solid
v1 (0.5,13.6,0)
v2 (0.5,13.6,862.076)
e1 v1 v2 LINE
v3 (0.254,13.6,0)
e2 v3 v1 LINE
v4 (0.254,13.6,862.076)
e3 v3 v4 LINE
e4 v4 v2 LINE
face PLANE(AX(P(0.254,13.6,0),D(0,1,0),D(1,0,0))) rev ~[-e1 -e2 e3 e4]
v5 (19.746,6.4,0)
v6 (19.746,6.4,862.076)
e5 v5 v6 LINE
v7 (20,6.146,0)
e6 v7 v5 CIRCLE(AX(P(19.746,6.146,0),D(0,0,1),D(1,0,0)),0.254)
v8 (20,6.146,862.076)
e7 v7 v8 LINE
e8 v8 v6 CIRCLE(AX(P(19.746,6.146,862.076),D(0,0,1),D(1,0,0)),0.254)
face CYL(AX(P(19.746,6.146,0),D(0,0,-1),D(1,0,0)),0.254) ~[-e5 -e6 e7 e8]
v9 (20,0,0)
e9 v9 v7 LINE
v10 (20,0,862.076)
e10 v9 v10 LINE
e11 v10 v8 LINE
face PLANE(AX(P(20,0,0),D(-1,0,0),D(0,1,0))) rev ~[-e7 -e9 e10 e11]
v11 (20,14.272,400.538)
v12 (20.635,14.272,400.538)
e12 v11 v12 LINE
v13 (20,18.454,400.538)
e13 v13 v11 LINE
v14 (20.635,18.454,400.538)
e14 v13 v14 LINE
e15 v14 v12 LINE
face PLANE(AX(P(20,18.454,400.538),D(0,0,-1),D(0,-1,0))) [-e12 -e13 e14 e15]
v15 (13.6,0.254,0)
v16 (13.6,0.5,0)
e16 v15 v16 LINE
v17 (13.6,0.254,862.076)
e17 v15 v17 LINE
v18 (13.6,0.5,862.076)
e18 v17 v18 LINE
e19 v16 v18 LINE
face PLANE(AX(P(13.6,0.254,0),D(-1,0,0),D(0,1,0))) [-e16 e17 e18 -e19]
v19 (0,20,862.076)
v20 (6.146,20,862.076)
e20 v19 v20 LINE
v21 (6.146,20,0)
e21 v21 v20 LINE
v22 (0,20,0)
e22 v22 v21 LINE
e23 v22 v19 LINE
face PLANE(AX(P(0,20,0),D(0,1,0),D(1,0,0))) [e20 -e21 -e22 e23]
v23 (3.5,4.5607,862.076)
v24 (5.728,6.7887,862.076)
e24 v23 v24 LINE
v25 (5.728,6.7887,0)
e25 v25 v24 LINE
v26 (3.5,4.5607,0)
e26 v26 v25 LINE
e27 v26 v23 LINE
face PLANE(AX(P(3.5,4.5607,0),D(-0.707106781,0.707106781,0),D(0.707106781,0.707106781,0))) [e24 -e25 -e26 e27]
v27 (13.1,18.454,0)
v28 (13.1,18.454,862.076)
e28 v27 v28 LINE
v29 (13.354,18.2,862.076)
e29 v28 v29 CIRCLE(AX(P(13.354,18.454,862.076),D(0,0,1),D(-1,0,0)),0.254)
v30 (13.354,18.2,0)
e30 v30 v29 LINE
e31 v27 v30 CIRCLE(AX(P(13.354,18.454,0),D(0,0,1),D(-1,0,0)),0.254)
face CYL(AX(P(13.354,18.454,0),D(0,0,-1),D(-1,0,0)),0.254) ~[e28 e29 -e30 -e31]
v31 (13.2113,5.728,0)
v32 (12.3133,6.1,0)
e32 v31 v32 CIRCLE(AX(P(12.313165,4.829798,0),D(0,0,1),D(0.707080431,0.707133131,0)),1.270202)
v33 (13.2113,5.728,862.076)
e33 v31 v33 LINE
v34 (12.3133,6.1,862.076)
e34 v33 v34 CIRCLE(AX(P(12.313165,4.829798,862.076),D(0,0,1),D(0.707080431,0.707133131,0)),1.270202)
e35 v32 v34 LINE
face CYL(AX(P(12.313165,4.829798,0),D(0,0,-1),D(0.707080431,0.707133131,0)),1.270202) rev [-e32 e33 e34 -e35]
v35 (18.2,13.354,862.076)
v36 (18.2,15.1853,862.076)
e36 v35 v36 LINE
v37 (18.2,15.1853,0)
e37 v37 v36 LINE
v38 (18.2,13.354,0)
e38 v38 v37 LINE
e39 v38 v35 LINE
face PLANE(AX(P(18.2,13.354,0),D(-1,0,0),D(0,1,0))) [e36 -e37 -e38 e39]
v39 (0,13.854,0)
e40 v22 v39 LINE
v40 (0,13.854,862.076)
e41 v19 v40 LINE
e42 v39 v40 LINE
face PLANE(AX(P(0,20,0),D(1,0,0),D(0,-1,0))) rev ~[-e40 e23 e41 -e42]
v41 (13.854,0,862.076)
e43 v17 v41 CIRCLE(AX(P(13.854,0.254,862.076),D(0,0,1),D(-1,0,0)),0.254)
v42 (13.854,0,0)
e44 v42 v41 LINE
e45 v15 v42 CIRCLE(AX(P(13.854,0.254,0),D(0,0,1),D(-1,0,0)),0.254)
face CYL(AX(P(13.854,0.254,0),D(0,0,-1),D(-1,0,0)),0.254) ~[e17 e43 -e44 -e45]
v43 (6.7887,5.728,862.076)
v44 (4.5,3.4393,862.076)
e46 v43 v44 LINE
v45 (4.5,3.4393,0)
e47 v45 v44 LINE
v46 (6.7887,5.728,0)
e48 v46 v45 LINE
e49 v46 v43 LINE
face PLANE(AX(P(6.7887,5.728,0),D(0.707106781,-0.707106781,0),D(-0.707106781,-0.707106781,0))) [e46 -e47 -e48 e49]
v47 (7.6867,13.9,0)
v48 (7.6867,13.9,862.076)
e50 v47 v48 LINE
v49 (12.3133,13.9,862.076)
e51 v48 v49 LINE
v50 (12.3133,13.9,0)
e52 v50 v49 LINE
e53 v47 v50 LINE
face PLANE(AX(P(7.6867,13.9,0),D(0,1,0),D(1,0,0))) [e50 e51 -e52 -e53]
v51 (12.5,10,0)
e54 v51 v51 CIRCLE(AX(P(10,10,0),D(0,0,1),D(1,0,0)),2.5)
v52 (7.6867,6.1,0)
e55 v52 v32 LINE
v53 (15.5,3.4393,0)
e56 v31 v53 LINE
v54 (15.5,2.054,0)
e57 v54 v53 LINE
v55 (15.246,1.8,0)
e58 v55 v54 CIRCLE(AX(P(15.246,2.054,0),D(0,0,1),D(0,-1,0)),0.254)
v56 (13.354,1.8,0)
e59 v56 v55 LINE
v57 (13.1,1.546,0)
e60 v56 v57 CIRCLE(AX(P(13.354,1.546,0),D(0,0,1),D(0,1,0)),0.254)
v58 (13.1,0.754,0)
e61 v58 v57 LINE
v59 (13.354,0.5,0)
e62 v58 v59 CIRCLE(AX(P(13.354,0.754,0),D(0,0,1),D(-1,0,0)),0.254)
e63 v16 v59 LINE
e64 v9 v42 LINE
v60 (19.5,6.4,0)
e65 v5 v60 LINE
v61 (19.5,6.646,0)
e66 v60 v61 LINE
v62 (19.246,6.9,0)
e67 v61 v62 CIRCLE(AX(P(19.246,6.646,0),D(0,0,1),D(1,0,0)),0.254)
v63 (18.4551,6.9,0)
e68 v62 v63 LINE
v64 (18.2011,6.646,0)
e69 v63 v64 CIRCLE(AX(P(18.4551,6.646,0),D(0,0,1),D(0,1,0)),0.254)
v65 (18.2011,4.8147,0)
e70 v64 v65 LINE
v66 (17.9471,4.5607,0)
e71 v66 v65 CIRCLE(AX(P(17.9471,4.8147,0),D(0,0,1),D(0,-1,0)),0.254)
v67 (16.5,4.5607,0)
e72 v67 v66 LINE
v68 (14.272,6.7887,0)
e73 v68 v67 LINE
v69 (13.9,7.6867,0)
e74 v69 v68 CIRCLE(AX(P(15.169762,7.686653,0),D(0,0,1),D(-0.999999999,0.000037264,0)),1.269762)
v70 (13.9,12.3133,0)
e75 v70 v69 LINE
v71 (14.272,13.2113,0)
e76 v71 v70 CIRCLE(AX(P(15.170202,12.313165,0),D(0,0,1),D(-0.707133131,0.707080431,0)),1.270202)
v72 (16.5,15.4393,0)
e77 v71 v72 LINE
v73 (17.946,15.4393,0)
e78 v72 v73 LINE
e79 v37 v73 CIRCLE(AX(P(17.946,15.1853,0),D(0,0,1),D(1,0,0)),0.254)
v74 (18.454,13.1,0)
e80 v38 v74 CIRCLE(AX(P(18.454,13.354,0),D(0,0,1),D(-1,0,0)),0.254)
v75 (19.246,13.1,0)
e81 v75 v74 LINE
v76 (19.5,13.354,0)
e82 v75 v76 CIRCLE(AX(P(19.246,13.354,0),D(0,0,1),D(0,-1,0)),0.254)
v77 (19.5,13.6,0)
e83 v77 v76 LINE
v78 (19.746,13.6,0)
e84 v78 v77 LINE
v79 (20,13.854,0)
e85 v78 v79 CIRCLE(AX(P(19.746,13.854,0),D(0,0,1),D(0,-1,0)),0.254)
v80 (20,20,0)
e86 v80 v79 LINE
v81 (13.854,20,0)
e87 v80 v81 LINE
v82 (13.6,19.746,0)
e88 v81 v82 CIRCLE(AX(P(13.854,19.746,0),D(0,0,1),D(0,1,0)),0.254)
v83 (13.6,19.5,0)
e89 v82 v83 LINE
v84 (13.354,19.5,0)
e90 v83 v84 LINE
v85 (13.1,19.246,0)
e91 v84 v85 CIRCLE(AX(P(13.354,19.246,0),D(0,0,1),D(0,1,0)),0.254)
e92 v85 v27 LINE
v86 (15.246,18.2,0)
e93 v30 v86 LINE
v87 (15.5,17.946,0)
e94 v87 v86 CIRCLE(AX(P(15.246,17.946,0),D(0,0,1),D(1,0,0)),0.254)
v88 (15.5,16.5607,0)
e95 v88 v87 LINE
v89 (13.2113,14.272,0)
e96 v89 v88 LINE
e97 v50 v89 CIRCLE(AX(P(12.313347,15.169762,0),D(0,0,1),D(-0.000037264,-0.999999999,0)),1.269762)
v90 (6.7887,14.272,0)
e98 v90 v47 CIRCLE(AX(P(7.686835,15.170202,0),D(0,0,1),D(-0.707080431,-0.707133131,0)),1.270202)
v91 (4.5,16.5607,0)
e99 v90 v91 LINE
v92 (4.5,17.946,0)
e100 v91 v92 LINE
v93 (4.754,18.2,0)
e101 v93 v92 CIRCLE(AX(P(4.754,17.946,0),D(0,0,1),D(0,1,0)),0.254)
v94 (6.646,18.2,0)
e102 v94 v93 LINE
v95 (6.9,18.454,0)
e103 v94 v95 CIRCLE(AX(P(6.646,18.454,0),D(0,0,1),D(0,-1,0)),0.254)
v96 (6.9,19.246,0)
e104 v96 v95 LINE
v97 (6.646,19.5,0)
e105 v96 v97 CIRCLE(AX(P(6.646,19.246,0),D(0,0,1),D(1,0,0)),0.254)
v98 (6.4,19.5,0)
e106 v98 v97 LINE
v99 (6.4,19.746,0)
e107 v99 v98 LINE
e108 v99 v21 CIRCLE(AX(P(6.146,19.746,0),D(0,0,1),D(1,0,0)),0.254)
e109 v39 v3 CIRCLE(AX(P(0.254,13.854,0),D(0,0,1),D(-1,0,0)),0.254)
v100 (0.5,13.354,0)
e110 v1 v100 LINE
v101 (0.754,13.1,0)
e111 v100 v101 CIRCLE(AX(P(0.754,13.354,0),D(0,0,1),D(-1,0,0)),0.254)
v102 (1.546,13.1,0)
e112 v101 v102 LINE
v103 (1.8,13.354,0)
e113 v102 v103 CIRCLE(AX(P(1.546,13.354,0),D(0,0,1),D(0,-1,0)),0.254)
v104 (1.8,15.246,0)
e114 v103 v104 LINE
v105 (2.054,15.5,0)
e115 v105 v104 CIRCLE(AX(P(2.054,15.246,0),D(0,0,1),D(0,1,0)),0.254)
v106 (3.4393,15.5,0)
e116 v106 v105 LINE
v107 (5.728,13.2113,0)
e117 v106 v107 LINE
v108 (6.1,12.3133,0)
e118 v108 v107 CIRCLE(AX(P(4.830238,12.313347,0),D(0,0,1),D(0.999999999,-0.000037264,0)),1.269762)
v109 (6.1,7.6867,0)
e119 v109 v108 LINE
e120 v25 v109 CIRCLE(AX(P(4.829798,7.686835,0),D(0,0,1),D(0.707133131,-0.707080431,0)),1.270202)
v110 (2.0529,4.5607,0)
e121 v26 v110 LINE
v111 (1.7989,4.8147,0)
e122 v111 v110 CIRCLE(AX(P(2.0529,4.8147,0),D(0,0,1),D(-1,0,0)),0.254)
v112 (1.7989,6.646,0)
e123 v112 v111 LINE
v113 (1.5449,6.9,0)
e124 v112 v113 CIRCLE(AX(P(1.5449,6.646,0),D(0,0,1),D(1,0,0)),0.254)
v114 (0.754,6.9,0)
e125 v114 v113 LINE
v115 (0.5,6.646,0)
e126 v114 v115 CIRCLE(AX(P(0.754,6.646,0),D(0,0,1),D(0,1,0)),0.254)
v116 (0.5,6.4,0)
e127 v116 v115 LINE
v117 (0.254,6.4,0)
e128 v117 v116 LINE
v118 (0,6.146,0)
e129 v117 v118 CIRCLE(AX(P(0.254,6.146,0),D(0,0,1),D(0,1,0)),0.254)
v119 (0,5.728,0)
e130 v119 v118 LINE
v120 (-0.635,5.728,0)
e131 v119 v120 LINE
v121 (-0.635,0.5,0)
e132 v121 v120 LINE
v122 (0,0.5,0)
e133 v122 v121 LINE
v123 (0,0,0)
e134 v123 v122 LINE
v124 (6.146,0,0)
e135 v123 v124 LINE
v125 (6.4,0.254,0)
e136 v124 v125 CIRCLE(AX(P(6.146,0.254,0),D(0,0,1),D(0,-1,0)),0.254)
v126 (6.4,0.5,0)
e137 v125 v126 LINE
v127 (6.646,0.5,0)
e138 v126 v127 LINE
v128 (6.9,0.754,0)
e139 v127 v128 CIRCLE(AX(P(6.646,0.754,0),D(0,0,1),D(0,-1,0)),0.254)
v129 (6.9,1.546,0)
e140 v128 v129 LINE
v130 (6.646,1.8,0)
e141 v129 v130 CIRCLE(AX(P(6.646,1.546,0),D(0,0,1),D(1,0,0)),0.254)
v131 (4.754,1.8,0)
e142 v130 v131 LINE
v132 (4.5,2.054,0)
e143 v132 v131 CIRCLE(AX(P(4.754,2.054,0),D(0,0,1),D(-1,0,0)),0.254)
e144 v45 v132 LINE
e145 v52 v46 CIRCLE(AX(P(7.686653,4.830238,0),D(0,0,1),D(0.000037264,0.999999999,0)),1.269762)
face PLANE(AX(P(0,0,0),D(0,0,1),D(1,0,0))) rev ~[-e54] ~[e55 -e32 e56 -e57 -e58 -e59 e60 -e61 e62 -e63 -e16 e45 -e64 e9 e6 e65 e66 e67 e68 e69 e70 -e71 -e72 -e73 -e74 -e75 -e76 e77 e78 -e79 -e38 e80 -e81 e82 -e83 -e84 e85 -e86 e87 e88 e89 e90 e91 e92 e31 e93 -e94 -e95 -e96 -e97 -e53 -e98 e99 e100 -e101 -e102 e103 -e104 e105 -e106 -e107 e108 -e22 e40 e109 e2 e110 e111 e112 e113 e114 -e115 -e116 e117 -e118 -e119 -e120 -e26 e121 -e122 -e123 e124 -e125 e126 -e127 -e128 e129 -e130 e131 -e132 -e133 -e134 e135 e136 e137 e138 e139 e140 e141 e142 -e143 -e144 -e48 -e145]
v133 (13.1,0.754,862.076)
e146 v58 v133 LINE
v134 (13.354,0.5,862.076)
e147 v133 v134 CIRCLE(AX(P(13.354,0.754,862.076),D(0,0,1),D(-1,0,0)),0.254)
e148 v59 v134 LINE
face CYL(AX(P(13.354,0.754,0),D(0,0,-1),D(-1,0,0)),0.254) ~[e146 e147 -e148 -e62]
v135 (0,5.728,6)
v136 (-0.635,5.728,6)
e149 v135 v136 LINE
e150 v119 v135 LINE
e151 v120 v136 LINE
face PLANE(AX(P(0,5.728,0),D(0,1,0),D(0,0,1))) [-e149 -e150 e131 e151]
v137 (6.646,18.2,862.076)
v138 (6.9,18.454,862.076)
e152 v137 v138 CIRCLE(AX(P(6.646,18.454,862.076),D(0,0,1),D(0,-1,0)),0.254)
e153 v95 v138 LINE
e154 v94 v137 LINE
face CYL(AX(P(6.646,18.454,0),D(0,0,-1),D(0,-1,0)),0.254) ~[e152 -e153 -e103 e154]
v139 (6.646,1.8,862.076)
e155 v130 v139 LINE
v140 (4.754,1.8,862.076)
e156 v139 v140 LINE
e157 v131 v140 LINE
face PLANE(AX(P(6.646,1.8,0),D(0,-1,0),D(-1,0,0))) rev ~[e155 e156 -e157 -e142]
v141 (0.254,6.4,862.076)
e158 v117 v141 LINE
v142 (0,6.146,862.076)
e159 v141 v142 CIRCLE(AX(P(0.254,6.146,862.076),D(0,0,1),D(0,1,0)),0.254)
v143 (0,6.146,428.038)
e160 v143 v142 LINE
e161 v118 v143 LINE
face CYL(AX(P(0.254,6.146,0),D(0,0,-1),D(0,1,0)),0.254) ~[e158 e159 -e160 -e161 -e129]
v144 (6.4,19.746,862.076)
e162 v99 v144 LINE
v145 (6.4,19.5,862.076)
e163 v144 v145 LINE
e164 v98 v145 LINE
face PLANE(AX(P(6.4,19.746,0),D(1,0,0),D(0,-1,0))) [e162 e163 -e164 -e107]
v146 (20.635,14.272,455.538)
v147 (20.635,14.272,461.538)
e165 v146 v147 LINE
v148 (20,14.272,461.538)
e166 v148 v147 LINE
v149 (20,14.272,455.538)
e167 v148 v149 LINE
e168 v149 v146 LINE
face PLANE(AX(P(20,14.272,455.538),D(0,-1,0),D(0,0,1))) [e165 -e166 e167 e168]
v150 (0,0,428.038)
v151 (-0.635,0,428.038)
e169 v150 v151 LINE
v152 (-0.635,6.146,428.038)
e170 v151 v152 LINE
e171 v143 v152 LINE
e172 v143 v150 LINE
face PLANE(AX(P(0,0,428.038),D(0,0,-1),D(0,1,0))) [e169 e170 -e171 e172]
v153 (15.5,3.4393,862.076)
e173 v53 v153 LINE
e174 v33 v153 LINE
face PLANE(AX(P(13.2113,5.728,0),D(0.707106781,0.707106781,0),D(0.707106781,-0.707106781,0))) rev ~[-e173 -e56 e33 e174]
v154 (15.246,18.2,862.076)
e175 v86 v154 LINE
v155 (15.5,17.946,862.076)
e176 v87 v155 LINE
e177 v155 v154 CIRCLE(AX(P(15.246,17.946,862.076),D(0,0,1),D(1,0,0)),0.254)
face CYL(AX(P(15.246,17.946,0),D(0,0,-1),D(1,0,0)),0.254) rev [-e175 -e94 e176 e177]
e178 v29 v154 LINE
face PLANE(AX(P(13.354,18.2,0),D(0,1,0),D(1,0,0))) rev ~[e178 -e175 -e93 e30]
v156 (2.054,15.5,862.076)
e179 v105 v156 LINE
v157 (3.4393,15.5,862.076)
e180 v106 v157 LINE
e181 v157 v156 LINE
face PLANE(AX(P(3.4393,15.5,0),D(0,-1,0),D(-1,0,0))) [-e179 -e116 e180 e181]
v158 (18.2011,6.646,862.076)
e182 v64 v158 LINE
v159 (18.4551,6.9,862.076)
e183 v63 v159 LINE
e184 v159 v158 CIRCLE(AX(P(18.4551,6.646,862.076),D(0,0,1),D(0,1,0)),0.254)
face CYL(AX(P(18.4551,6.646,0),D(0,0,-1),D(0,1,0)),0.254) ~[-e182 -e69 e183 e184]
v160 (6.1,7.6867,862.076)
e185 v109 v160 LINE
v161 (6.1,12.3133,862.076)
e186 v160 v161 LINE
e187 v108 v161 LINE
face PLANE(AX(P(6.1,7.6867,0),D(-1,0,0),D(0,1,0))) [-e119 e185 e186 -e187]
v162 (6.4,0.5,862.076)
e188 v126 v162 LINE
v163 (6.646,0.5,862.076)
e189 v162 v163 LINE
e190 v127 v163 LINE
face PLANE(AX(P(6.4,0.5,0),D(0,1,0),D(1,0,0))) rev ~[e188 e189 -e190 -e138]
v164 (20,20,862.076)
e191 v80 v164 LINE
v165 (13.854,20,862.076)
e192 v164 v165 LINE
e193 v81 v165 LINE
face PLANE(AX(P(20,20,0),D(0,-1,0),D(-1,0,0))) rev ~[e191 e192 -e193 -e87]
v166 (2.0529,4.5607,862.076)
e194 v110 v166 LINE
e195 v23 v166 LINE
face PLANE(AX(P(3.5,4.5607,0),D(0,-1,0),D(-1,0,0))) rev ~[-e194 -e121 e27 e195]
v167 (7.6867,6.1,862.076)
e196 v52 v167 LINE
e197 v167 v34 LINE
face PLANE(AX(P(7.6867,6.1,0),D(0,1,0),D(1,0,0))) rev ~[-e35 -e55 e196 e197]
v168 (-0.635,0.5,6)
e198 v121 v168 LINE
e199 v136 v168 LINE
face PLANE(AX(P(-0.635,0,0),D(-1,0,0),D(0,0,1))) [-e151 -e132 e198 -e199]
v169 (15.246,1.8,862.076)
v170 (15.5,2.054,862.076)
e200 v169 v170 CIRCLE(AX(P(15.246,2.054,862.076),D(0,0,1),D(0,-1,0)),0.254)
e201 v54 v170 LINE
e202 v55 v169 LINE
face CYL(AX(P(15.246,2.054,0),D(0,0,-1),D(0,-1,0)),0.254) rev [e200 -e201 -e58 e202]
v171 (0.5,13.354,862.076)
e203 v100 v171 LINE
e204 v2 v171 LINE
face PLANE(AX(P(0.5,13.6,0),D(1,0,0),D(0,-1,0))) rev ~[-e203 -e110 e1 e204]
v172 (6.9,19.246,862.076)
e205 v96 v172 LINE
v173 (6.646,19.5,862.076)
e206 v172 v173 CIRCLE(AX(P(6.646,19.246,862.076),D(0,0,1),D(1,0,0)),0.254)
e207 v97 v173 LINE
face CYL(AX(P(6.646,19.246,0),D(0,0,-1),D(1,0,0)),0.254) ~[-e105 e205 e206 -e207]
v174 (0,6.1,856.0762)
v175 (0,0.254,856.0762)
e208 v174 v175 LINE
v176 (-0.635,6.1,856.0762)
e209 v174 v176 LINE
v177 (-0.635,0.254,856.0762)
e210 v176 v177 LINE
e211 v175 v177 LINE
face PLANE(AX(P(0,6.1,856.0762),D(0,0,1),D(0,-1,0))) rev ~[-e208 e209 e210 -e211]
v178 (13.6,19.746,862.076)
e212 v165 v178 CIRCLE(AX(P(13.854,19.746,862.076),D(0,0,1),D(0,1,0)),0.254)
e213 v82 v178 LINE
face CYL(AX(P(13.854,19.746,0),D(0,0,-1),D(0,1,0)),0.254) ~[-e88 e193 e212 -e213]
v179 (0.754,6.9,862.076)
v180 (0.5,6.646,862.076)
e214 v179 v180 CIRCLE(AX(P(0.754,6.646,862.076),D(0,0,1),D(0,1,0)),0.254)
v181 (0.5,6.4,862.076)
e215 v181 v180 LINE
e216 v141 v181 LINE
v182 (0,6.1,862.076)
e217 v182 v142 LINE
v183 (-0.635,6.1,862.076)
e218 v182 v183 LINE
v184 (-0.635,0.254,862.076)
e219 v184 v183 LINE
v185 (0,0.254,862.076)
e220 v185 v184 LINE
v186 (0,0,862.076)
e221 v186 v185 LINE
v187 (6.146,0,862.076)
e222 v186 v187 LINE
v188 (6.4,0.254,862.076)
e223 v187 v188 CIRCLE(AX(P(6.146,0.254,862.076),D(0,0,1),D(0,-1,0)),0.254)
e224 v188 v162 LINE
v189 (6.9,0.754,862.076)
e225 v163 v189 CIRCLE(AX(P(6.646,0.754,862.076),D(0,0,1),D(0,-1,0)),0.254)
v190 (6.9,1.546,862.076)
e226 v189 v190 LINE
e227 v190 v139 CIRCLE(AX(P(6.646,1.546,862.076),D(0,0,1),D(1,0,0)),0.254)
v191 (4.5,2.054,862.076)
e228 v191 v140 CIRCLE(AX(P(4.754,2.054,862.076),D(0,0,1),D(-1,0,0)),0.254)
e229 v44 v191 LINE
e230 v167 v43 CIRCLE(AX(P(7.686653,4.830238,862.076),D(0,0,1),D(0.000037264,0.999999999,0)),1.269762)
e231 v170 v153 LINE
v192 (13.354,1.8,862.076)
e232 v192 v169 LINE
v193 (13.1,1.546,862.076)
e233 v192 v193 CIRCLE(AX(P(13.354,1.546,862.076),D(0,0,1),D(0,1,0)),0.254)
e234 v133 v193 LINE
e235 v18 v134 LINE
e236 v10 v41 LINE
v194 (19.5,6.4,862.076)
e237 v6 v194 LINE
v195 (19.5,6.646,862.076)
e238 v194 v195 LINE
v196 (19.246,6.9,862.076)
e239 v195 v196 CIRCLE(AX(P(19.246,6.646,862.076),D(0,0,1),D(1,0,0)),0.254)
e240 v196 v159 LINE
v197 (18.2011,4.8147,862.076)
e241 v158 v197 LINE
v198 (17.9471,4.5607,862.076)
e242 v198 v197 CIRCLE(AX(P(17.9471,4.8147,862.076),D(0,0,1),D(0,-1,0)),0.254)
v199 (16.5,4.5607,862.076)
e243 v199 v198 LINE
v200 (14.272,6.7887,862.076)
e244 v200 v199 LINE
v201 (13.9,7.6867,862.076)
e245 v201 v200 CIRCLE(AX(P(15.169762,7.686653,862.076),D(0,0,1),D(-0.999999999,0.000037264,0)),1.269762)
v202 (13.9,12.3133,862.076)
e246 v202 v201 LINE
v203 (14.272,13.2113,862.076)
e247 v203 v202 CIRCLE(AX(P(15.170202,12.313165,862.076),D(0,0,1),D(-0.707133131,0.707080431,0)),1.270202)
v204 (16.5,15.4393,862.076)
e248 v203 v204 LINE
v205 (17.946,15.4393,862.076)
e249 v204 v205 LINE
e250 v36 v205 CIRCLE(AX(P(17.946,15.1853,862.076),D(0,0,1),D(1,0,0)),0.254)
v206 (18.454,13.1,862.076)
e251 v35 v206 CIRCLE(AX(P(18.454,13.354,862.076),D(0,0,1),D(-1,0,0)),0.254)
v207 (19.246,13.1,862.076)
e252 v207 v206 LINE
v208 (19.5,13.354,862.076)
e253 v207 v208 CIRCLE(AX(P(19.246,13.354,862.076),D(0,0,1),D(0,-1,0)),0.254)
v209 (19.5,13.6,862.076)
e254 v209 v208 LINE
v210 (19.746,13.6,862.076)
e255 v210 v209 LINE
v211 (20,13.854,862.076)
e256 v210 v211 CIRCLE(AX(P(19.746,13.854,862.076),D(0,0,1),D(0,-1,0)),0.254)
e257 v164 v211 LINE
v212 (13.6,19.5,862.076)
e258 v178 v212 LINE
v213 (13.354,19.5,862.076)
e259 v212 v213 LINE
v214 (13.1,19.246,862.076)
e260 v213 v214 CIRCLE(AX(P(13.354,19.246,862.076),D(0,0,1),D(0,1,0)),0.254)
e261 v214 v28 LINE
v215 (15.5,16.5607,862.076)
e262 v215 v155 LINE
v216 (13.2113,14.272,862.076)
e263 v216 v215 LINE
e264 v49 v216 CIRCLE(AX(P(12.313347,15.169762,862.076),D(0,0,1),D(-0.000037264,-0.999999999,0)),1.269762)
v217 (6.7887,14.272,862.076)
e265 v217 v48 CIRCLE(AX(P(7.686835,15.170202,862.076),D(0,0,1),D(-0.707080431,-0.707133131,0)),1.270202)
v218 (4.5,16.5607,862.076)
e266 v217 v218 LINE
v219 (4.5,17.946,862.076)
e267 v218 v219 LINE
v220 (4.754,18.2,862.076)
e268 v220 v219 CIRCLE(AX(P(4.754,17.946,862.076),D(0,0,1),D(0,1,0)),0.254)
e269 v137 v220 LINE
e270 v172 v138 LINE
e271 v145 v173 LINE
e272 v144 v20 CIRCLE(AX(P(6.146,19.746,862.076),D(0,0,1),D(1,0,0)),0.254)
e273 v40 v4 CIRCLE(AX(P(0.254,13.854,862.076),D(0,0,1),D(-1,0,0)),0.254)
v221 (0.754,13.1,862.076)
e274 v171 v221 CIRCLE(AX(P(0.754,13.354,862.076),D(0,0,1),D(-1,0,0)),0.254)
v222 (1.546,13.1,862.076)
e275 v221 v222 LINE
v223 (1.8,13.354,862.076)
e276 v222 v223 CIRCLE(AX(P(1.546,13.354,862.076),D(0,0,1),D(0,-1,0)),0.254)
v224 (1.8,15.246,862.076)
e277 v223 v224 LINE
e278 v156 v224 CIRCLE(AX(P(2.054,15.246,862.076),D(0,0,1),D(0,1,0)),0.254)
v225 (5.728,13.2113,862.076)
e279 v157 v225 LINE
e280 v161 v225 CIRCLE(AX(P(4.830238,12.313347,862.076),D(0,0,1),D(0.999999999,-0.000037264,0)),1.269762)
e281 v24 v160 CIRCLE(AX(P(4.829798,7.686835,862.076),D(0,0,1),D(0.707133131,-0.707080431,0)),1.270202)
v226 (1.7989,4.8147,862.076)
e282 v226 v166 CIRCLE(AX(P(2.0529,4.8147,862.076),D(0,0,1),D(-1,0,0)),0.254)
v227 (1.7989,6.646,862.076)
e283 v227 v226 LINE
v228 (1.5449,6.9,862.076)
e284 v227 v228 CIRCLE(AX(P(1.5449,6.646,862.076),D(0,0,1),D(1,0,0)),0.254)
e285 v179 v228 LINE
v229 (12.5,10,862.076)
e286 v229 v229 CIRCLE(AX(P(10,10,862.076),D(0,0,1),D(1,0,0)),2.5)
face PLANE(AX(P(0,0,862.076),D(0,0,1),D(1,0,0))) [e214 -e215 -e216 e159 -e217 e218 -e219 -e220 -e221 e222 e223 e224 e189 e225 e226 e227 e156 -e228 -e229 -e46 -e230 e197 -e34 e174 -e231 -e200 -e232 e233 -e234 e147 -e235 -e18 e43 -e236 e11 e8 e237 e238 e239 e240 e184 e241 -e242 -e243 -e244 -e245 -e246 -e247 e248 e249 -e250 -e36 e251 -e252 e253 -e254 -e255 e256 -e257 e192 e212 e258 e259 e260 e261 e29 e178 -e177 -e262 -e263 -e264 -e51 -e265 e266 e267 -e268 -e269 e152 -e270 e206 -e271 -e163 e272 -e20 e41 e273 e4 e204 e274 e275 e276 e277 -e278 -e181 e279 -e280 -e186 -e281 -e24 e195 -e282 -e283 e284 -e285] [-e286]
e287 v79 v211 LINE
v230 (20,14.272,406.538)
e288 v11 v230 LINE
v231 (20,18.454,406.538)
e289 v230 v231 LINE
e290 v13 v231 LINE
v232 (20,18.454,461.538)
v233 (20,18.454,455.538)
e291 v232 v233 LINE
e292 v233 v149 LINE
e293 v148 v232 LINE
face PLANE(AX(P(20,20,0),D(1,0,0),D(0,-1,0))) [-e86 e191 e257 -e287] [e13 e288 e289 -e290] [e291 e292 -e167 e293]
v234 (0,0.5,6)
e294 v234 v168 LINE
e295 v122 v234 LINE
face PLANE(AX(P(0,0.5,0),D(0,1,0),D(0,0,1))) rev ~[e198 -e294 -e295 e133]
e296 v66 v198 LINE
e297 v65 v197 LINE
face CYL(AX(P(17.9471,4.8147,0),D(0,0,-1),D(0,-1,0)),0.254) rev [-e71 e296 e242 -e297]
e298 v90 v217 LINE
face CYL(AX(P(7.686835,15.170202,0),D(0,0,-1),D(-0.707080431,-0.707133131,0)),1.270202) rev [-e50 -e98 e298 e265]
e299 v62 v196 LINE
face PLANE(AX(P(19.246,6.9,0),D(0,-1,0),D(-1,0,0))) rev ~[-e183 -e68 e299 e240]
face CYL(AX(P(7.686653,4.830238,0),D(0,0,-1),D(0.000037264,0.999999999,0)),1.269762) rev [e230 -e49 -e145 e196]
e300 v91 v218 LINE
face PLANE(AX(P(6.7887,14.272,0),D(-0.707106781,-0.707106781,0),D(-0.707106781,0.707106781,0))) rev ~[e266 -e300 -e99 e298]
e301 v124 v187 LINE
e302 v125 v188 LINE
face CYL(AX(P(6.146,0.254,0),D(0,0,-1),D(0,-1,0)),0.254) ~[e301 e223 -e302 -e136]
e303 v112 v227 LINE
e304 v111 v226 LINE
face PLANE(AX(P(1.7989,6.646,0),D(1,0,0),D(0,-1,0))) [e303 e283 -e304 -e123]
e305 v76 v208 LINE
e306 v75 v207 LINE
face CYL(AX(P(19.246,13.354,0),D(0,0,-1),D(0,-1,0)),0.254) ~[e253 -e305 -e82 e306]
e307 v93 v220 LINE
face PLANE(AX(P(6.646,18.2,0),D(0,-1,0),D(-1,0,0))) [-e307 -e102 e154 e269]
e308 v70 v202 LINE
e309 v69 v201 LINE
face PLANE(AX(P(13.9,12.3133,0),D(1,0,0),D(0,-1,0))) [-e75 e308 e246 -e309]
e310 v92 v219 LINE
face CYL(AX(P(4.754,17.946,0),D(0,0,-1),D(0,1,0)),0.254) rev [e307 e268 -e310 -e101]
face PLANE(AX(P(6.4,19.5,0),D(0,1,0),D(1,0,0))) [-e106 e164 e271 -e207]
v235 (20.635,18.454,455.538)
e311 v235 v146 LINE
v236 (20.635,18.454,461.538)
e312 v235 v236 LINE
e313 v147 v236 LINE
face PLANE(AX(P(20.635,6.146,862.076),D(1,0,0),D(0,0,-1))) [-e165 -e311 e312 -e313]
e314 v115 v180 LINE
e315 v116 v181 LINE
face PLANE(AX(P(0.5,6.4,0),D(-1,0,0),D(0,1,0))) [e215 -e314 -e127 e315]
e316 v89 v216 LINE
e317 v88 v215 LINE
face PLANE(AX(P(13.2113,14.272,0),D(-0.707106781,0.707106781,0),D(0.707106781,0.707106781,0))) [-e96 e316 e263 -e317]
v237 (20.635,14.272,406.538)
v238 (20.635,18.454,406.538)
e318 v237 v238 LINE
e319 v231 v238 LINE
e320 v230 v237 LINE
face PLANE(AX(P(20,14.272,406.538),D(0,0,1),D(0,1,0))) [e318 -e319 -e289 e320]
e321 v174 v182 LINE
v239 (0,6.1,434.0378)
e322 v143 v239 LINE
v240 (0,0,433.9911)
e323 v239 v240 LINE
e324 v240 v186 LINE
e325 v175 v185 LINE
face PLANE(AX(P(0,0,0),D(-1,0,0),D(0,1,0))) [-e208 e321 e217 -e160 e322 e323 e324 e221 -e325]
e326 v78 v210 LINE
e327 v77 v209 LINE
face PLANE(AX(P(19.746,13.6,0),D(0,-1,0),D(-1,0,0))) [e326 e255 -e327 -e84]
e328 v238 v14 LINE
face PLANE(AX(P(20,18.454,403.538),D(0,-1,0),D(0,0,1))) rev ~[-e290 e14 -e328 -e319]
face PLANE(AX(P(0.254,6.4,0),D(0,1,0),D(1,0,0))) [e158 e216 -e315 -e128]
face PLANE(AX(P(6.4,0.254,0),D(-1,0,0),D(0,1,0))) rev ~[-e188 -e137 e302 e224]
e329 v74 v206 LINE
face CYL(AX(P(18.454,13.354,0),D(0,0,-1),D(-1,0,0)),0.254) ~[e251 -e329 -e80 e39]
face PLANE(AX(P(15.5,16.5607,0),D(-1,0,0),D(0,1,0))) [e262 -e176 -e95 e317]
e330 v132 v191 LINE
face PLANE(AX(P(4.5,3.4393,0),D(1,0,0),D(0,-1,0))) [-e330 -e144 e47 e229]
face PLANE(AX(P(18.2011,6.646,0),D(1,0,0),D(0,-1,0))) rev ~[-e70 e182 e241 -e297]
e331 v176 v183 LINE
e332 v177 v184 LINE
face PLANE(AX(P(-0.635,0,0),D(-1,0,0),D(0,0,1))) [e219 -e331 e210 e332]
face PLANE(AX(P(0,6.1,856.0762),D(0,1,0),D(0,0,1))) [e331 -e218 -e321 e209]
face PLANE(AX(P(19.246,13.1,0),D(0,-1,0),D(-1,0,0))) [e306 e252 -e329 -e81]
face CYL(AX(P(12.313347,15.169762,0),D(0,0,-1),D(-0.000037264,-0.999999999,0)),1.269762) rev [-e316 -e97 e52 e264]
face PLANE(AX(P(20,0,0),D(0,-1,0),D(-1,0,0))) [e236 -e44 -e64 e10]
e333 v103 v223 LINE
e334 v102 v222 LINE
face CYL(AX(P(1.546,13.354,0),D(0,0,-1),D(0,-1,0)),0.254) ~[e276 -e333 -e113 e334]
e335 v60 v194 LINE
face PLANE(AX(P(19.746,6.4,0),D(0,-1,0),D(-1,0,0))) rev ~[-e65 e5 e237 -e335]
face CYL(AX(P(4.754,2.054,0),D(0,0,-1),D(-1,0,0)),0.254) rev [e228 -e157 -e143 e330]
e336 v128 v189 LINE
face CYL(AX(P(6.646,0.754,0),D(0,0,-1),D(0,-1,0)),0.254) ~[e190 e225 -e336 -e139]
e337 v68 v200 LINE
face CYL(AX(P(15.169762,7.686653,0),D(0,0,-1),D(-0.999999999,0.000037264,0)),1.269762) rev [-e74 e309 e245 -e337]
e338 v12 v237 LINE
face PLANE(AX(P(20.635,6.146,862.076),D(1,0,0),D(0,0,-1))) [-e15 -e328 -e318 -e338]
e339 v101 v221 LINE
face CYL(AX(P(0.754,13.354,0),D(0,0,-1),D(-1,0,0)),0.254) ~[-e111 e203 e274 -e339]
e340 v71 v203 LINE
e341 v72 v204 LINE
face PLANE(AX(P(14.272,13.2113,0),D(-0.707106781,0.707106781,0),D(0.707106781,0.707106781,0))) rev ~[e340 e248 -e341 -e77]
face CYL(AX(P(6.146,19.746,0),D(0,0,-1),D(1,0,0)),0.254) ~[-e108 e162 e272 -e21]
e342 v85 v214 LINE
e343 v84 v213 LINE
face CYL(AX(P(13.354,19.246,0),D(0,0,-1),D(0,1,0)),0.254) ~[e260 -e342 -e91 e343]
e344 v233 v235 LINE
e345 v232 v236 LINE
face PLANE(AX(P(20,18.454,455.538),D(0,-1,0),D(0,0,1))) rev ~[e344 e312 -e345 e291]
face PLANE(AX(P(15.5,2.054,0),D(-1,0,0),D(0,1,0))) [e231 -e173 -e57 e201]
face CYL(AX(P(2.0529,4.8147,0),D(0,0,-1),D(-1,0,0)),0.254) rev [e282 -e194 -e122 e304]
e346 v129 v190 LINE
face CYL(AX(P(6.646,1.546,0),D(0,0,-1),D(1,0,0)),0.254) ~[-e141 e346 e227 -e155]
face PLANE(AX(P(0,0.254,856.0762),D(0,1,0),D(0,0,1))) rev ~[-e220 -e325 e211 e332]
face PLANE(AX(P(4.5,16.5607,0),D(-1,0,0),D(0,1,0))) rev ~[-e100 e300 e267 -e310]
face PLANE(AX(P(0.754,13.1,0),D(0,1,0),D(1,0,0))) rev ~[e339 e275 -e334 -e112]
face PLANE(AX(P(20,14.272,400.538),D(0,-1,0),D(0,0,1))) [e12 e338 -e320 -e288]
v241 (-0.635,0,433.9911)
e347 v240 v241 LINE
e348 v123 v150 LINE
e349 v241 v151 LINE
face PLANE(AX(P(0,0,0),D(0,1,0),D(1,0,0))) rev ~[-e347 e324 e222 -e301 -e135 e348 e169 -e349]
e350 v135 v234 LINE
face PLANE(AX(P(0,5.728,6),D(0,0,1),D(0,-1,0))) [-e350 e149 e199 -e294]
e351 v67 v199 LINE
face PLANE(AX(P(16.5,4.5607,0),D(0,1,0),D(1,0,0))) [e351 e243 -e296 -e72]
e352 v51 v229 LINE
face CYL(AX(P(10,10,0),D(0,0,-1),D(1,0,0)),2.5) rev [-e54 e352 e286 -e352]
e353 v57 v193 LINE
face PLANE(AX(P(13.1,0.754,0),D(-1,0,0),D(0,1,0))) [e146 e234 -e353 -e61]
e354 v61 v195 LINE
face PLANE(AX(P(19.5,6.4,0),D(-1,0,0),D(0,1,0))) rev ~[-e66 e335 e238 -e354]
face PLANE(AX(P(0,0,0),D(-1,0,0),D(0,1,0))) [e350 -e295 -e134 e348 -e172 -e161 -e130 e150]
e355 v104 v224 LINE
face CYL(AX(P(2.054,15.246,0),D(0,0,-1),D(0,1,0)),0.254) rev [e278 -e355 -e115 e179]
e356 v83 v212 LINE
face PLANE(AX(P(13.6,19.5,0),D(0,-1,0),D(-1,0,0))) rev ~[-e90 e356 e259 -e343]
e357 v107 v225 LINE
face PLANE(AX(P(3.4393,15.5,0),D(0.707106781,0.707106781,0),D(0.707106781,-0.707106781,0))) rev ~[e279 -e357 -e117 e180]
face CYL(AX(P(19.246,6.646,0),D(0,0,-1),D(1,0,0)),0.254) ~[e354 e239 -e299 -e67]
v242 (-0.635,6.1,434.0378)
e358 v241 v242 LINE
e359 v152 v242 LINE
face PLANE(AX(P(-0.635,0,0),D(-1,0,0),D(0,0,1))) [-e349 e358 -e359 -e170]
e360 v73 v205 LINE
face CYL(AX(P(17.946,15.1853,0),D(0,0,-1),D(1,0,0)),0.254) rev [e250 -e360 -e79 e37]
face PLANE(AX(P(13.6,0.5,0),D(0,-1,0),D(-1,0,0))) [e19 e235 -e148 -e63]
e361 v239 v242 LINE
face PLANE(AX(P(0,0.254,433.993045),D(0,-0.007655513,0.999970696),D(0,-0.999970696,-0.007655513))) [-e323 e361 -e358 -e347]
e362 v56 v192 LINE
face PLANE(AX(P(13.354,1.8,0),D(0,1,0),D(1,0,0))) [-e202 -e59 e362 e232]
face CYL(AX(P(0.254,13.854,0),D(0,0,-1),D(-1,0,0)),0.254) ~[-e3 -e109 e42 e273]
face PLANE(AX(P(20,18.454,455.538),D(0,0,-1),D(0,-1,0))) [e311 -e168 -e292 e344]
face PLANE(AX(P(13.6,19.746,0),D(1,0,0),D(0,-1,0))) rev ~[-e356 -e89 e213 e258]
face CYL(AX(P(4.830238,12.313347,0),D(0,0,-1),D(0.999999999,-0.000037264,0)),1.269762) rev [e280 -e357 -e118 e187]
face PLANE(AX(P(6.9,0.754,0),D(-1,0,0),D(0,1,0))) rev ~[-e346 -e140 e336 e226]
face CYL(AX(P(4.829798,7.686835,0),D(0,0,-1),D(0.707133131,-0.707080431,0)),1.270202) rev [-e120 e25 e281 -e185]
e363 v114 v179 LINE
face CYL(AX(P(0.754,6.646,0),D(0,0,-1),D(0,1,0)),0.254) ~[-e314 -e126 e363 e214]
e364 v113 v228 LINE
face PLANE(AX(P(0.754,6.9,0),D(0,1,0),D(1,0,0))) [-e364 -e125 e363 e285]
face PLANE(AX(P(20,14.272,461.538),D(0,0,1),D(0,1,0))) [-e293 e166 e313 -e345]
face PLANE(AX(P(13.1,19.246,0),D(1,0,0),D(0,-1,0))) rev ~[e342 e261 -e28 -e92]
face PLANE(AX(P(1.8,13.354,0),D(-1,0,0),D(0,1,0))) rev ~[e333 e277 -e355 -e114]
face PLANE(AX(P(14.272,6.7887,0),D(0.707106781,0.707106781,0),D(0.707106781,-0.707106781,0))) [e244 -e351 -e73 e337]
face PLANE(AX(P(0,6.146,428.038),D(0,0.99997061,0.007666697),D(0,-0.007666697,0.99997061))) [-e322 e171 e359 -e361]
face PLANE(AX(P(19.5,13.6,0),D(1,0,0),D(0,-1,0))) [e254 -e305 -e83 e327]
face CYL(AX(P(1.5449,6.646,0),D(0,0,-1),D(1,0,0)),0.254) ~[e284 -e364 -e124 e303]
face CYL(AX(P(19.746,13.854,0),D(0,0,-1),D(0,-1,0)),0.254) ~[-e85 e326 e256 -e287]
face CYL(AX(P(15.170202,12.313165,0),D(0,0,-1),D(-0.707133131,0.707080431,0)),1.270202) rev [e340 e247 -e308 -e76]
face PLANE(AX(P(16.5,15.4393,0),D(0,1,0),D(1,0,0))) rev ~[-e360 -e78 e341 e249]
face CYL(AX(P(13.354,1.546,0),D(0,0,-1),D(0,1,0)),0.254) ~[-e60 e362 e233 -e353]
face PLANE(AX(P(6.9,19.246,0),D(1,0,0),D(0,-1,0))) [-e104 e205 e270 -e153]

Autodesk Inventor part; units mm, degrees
ref_plane "YZ Plane" through (0, 0, 0) normal (1, 0, 0) x (0, 1, 0)
ref_plane "XZ Plane" through (0, 0, 0) normal (0, 1, 0) x (-1, 0, 0)
ref_plane "XY Plane" through (0, 0, 0) normal (0, 0, 1) x (1, 0, 0)
sketch "Sketch1" plane through (0, 0, 0) normal (0, 0, 1) x (1, 0, 0)
  line L0 (0, 0) -> (6.146, 0)
  line L1 (6.4, 0.254) -> (6.4, 0.5)
  line L2 (6.4, 0.5) -> (6.646, 0.5)
  line L3 (6.9, 0.754) -> (6.9, 1.546)
  line L4 (0, 0) -> (0, 6.146)
  line L5 (0.254, 6.4) -> (0.5, 6.4)
  line L6 (0.5, 6.4) -> (0.5, 6.646)
  line L7 (0.754, 6.9) -> (1.5449, 6.9)
  line L8 (1.7989, 6.646) -> (1.7989, 4.8147)
  line L9 (6.646, 1.8) -> (4.754, 1.8)
  line L10 (20, 0) -> (20, 6.146)
  line L11 (19.746, 6.4) -> (19.5, 6.4)
  line L12 (19.5, 6.4) -> (19.5, 6.646)
  line L13 (19.246, 6.9) -> (18.4551, 6.9)
  line L14 (18.2011, 6.646) -> (18.2011, 4.8147)
  line L15 (20, 0) -> (13.854, 0)
  line L16 (13.6, 0.254) -> (13.6, 0.5)
  circle A0 centre (10, 10) radius 2.5
  line L17 (20, 20) -> (13.854, 20)
  line L18 (20, 20) -> (20, 13.854)
  line L19 (19.746, 13.6) -> (19.5, 13.6)
  line L20 (19.5, 13.6) -> (19.5, 13.354)
  line L21 (19.246, 13.1) -> (18.454, 13.1)
  line L22 (13.6, 19.746) -> (13.6, 19.5)
  line L23 (13.6, 19.5) -> (13.354, 19.5)
  line L24 (13.1, 19.246) -> (13.1, 18.454)
  line L25 (13.354, 18.2) -> (15.246, 18.2)
  line L26 (0, 20) -> (6.146, 20)
  line L27 (6.4, 19.746) -> (6.4, 19.5)
  line L28 (6.4, 19.5) -> (6.646, 19.5)
  line L29 (6.9, 19.246) -> (6.9, 18.454)
  line L30 (6.646, 18.2) -> (4.754, 18.2)
  line L31 (0, 20) -> (0, 13.854)
  line L32 (0.254, 13.6) -> (0.5, 13.6)
  line L33 (0.5, 13.6) -> (0.5, 13.354)
  line L34 (0.754, 13.1) -> (1.546, 13.1)
  line L35 (1.8, 13.354) -> (1.8, 15.246)
  line L36 (3.4393, 15.5) -> (2.054, 15.5)
  line L37 (4.5, 16.5607) -> (4.5, 17.946)
  line L38 (16.5, 4.5607) -> (17.9471, 4.5607)
  line L39 (13.6, 0.5) -> (13.354, 0.5)
  line L40 (13.1, 0.754) -> (13.1, 1.546)
  line L41 (13.354, 1.8) -> (15.246, 1.8)
  line L42 (15.5, 2.054) -> (15.5, 3.4393)
  line L43 (15.5, 16.5607) -> (15.5, 17.946)
  line L44 (16.5, 15.4393) -> (17.946, 15.4393)
  line L45 (4.5, 3.4393) -> (4.5, 2.054)
  line L46 (3.5, 4.5607) -> (2.0529, 4.5607)
  line L47 (6.1, 7.6867) -> (6.1, 12.3133)
  line L48 (3.5, 4.5607) -> (5.728, 6.7887)
  line L49 (3.4393, 15.5) -> (5.728, 13.2113)
  line L50 (7.6867, 13.9) -> (12.3133, 13.9)
  line L51 (6.7887, 14.272) -> (4.5, 16.5607)
  line L52 (13.2113, 14.272) -> (15.5, 16.5607)
  line L53 (13.9, 12.3133) -> (13.9, 7.6867)
  line L54 (14.272, 6.7887) -> (16.5, 4.5607)
  line L55 (14.272, 13.2113) -> (16.5, 15.4393)
  line L56 (7.6867, 6.1) -> (12.3133, 6.1)
  line L57 (6.7887, 5.728) -> (4.5, 3.4393)
  line L58 (13.2113, 5.728) -> (15.5, 3.4393)
  arc A1 (6.9, 19.246) -> (6.646, 19.5) centre (6.646, 19.246) ccw
  arc A2 (6.4, 19.746) -> (6.146, 20) centre (6.146, 19.746) ccw
  arc A3 (6.646, 18.2) -> (6.9, 18.454) centre (6.646, 18.454) ccw
  arc A4 (4.754, 18.2) -> (4.5, 17.946) centre (4.754, 17.946) ccw
  arc A5 (13.1, 18.454) -> (13.354, 18.2) centre (13.354, 18.454) ccw
  arc A6 (13.354, 19.5) -> (13.1, 19.246) centre (13.354, 19.246) ccw
  arc A7 (13.854, 20) -> (13.6, 19.746) centre (13.854, 19.746) ccw
  arc A8 (15.5, 17.946) -> (15.246, 18.2) centre (15.246, 17.946) ccw
  arc A9 (2.054, 15.5) -> (1.8, 15.246) centre (2.054, 15.246) ccw
  arc A10 (0.5, 13.354) -> (0.754, 13.1) centre (0.754, 13.354) ccw
  arc A11 (0, 13.854) -> (0.254, 13.6) centre (0.254, 13.854) ccw
  arc A12 (1.546, 13.1) -> (1.8, 13.354) centre (1.546, 13.354) ccw
  arc A13 (0.254, 6.4) -> (0, 6.146) centre (0.254, 6.146) ccw
  arc A14 (0.754, 6.9) -> (0.5, 6.646) centre (0.754, 6.646) ccw
  arc A15 (1.7989, 6.646) -> (1.5449, 6.9) centre (1.5449, 6.646) ccw
  arc A16 (1.7989, 4.8147) -> (2.0529, 4.5607) centre (2.0529, 4.8147) ccw
  arc A17 (19.746, 13.6) -> (20, 13.854) centre (19.746, 13.854) ccw
  arc A18 (19.246, 13.1) -> (19.5, 13.354) centre (19.246, 13.354) ccw
  arc A19 (18.2, 13.354) -> (18.454, 13.1) centre (18.454, 13.354) ccw
  line L59 (18.2, 13.354) -> (18.2, 15.1853)
  arc A20 (18.2, 15.1853) -> (17.946, 15.4393) centre (17.946, 15.1853) ccw
  arc A21 (20, 6.146) -> (19.746, 6.4) centre (19.746, 6.146) ccw
  arc A22 (19.5, 6.646) -> (19.246, 6.9) centre (19.246, 6.646) ccw
  arc A23 (18.4551, 6.9) -> (18.2011, 6.646) centre (18.4551, 6.646) ccw
  arc A24 (17.9471, 4.5607) -> (18.2011, 4.8147) centre (17.9471, 4.8147) ccw
  arc A25 (13.6, 0.254) -> (13.854, 0) centre (13.854, 0.254) ccw
  arc A26 (13.1, 0.754) -> (13.354, 0.5) centre (13.354, 0.754) ccw
  arc A27 (13.354, 1.8) -> (13.1, 1.546) centre (13.354, 1.546) ccw
  arc A28 (15.246, 1.8) -> (15.5, 2.054) centre (15.246, 2.054) ccw
  arc A29 (6.146, 0) -> (6.4, 0.254) centre (6.146, 0.254) ccw
  arc A30 (6.646, 0.5) -> (6.9, 0.754) centre (6.646, 0.754) ccw
  arc A31 (6.9, 1.546) -> (6.646, 1.8) centre (6.646, 1.546) ccw
  arc A32 (4.5, 2.054) -> (4.754, 1.8) centre (4.754, 2.054) ccw
  arc A33 (6.7887, 14.272) -> (7.6867, 13.9) centre (7.6867, 15.17) ccw
  arc A34 (12.3133, 13.9) -> (13.2113, 14.272) centre (12.3133, 15.17) ccw
  arc A35 (6.1, 12.3133) -> (5.728, 13.2113) centre (4.83, 12.3133) ccw
  arc A36 (5.728, 6.7887) -> (6.1, 7.6867) centre (4.83, 7.6867) ccw
  arc A37 (7.6867, 6.1) -> (6.7887, 5.728) centre (7.6867, 4.83) ccw
  arc A38 (13.2113, 5.728) -> (12.3133, 6.1) centre (12.3133, 4.83) ccw
  arc A39 (13.9, 7.6867) -> (14.272, 6.7887) centre (15.17, 7.6867) ccw
  arc A40 (14.272, 13.2113) -> (13.9, 12.3133) centre (15.17, 12.3133) ccw
  point P0 (20, 6.4)
  point P1 (19.5, 6.9)
  point P2 (18.2011, 6.9)
  dimension "d59" = 1.27
extrude "Extrusion1" add sketch "Sketch1" along normal blind 862.076
sketch "Sketch5" plane through (0, 0, 0) normal (-1, 0, 0) x (0, 0, 1)
  line L0 (0, 5.728) -> (862.076, 5.728) projected
  line L1 (0, 0) -> (0, 5.728)
  line L2 (0, 5.728) -> (6, 5.728)
  line L3 (6, 5.728) -> (6, 0.5)
  line L4 (0, 0.5) -> (862.076, 0.5) projected
  line L5 (0, 0.5) -> (6, 0.5)
  dimension "d69" = 6
extrude "Extrusion2" add sketch "Sketch5" along normal blind 0.635
sketch "Sketch6" plane through (0, 0, 0) normal (-1, 0, 0) x (0, 0, 1)
  line L0 (0, 0) -> (431.038, 0)
  line L1 (0, 20) -> (862.076, 20) projected
  line L2 (431.038, 0) -> (428.038, 0)
  line L3 (0, 0) -> (862.076, 0) projected
  line L4 (428.038, 0) -> (428.038, 6.146)
  line L5 (0, 6.146) -> (862.076, 6.146) projected
  line L6 (428.038, 6.146) -> (434.0378, 6.1)
  line L7 (0, 6.1) -> (862.076, 6.1) projected
  line L8 (434.0378, 6.1) -> (433.9911, 0)
  line L9 (433.9911, 0) -> (431.038, 0)
  line L10 (862.076, 0) -> (862.076, 6.1)
  line L11 (862.076, 6.146) -> (862.076, 6.4) projected
  line L12 (862.076, 6.146) -> (856.0762, 6.1)
  line L13 (856.0762, 6.1) -> (856.0762, 0)
  line L14 (862.076, 0) -> (856.0762, 0)
  line L15 (0, 0.254) -> (862.076, 0.254) projected
  point P0 (856.0762, 0.254)
  dimension "d72" = 3
  dimension "d73" = 6
  dimension "d74" = 6
extrude "Extrusion3" add sketch "Sketch6" along normal blind 0.635 contours L4 L15 L8 L3 L0 | L4 L7 L8 L15 | L4 L6 L7 | L13 L7 L10 L15
sketch "Sketch7" plane through (20, 6.146, 862.076) normal (1, 0, 0) x (0, 0, -1)
  line L0 (862.076, 12.308) -> (0, 12.308) projected
  line L1 (0, 12.308) -> (431.038, 12.308)
  line L2 (862.076, 6.1673) -> (0, 6.1673) projected
  line L3 (431.038, 12.308) -> (458.538, 12.308)
  line L4 (431.038, 12.308) -> (403.538, 12.308)
  line L5 (403.538, 12.308) -> (403.538, 8.126)
  line L6 (862.076, 8.126) -> (0, 8.126) projected
  line L7 (403.538, 12.308) -> (400.538, 12.308)
  line L8 (400.538, 12.308) -> (406.538, 12.308)
  line L9 (406.538, 12.308) -> (406.538, 8.126)
  line L10 (406.538, 8.126) -> (400.538, 8.126)
  line L11 (400.538, 8.126) -> (400.538, 12.308)
  line L12 (458.538, 12.308) -> (461.538, 12.308)
  line L13 (461.538, 12.308) -> (461.538, 8.126)
  line L14 (461.538, 8.126) -> (455.538, 8.126)
  line L15 (455.538, 8.126) -> (455.538, 12.308)
  line L16 (458.538, 12.308) -> (455.538, 12.308)
  point P0 (862.076, -6.146)
  point P1 (406.538, 8.126)
  dimension "d77" = 27.5
  dimension "d78" = 27.5
  dimension "d79" = 3
  dimension "d80" = 6
  dimension "d81" = 3
  dimension "d82" = 6
extrude "Extrusion4" add sketch "Sketch7" along normal blind 0.635 contours L13 L6 L15 L0 | L6 L5 L0 L9 | L6 L11 L0 L5
sketch "Sketch8" plane through (20.635, 6.146, 862.076) normal (1, 0, 0) x (0, 0, -1)
  point P0 (862.076, -6.146)
properties part number "T slot beam 20mm"
